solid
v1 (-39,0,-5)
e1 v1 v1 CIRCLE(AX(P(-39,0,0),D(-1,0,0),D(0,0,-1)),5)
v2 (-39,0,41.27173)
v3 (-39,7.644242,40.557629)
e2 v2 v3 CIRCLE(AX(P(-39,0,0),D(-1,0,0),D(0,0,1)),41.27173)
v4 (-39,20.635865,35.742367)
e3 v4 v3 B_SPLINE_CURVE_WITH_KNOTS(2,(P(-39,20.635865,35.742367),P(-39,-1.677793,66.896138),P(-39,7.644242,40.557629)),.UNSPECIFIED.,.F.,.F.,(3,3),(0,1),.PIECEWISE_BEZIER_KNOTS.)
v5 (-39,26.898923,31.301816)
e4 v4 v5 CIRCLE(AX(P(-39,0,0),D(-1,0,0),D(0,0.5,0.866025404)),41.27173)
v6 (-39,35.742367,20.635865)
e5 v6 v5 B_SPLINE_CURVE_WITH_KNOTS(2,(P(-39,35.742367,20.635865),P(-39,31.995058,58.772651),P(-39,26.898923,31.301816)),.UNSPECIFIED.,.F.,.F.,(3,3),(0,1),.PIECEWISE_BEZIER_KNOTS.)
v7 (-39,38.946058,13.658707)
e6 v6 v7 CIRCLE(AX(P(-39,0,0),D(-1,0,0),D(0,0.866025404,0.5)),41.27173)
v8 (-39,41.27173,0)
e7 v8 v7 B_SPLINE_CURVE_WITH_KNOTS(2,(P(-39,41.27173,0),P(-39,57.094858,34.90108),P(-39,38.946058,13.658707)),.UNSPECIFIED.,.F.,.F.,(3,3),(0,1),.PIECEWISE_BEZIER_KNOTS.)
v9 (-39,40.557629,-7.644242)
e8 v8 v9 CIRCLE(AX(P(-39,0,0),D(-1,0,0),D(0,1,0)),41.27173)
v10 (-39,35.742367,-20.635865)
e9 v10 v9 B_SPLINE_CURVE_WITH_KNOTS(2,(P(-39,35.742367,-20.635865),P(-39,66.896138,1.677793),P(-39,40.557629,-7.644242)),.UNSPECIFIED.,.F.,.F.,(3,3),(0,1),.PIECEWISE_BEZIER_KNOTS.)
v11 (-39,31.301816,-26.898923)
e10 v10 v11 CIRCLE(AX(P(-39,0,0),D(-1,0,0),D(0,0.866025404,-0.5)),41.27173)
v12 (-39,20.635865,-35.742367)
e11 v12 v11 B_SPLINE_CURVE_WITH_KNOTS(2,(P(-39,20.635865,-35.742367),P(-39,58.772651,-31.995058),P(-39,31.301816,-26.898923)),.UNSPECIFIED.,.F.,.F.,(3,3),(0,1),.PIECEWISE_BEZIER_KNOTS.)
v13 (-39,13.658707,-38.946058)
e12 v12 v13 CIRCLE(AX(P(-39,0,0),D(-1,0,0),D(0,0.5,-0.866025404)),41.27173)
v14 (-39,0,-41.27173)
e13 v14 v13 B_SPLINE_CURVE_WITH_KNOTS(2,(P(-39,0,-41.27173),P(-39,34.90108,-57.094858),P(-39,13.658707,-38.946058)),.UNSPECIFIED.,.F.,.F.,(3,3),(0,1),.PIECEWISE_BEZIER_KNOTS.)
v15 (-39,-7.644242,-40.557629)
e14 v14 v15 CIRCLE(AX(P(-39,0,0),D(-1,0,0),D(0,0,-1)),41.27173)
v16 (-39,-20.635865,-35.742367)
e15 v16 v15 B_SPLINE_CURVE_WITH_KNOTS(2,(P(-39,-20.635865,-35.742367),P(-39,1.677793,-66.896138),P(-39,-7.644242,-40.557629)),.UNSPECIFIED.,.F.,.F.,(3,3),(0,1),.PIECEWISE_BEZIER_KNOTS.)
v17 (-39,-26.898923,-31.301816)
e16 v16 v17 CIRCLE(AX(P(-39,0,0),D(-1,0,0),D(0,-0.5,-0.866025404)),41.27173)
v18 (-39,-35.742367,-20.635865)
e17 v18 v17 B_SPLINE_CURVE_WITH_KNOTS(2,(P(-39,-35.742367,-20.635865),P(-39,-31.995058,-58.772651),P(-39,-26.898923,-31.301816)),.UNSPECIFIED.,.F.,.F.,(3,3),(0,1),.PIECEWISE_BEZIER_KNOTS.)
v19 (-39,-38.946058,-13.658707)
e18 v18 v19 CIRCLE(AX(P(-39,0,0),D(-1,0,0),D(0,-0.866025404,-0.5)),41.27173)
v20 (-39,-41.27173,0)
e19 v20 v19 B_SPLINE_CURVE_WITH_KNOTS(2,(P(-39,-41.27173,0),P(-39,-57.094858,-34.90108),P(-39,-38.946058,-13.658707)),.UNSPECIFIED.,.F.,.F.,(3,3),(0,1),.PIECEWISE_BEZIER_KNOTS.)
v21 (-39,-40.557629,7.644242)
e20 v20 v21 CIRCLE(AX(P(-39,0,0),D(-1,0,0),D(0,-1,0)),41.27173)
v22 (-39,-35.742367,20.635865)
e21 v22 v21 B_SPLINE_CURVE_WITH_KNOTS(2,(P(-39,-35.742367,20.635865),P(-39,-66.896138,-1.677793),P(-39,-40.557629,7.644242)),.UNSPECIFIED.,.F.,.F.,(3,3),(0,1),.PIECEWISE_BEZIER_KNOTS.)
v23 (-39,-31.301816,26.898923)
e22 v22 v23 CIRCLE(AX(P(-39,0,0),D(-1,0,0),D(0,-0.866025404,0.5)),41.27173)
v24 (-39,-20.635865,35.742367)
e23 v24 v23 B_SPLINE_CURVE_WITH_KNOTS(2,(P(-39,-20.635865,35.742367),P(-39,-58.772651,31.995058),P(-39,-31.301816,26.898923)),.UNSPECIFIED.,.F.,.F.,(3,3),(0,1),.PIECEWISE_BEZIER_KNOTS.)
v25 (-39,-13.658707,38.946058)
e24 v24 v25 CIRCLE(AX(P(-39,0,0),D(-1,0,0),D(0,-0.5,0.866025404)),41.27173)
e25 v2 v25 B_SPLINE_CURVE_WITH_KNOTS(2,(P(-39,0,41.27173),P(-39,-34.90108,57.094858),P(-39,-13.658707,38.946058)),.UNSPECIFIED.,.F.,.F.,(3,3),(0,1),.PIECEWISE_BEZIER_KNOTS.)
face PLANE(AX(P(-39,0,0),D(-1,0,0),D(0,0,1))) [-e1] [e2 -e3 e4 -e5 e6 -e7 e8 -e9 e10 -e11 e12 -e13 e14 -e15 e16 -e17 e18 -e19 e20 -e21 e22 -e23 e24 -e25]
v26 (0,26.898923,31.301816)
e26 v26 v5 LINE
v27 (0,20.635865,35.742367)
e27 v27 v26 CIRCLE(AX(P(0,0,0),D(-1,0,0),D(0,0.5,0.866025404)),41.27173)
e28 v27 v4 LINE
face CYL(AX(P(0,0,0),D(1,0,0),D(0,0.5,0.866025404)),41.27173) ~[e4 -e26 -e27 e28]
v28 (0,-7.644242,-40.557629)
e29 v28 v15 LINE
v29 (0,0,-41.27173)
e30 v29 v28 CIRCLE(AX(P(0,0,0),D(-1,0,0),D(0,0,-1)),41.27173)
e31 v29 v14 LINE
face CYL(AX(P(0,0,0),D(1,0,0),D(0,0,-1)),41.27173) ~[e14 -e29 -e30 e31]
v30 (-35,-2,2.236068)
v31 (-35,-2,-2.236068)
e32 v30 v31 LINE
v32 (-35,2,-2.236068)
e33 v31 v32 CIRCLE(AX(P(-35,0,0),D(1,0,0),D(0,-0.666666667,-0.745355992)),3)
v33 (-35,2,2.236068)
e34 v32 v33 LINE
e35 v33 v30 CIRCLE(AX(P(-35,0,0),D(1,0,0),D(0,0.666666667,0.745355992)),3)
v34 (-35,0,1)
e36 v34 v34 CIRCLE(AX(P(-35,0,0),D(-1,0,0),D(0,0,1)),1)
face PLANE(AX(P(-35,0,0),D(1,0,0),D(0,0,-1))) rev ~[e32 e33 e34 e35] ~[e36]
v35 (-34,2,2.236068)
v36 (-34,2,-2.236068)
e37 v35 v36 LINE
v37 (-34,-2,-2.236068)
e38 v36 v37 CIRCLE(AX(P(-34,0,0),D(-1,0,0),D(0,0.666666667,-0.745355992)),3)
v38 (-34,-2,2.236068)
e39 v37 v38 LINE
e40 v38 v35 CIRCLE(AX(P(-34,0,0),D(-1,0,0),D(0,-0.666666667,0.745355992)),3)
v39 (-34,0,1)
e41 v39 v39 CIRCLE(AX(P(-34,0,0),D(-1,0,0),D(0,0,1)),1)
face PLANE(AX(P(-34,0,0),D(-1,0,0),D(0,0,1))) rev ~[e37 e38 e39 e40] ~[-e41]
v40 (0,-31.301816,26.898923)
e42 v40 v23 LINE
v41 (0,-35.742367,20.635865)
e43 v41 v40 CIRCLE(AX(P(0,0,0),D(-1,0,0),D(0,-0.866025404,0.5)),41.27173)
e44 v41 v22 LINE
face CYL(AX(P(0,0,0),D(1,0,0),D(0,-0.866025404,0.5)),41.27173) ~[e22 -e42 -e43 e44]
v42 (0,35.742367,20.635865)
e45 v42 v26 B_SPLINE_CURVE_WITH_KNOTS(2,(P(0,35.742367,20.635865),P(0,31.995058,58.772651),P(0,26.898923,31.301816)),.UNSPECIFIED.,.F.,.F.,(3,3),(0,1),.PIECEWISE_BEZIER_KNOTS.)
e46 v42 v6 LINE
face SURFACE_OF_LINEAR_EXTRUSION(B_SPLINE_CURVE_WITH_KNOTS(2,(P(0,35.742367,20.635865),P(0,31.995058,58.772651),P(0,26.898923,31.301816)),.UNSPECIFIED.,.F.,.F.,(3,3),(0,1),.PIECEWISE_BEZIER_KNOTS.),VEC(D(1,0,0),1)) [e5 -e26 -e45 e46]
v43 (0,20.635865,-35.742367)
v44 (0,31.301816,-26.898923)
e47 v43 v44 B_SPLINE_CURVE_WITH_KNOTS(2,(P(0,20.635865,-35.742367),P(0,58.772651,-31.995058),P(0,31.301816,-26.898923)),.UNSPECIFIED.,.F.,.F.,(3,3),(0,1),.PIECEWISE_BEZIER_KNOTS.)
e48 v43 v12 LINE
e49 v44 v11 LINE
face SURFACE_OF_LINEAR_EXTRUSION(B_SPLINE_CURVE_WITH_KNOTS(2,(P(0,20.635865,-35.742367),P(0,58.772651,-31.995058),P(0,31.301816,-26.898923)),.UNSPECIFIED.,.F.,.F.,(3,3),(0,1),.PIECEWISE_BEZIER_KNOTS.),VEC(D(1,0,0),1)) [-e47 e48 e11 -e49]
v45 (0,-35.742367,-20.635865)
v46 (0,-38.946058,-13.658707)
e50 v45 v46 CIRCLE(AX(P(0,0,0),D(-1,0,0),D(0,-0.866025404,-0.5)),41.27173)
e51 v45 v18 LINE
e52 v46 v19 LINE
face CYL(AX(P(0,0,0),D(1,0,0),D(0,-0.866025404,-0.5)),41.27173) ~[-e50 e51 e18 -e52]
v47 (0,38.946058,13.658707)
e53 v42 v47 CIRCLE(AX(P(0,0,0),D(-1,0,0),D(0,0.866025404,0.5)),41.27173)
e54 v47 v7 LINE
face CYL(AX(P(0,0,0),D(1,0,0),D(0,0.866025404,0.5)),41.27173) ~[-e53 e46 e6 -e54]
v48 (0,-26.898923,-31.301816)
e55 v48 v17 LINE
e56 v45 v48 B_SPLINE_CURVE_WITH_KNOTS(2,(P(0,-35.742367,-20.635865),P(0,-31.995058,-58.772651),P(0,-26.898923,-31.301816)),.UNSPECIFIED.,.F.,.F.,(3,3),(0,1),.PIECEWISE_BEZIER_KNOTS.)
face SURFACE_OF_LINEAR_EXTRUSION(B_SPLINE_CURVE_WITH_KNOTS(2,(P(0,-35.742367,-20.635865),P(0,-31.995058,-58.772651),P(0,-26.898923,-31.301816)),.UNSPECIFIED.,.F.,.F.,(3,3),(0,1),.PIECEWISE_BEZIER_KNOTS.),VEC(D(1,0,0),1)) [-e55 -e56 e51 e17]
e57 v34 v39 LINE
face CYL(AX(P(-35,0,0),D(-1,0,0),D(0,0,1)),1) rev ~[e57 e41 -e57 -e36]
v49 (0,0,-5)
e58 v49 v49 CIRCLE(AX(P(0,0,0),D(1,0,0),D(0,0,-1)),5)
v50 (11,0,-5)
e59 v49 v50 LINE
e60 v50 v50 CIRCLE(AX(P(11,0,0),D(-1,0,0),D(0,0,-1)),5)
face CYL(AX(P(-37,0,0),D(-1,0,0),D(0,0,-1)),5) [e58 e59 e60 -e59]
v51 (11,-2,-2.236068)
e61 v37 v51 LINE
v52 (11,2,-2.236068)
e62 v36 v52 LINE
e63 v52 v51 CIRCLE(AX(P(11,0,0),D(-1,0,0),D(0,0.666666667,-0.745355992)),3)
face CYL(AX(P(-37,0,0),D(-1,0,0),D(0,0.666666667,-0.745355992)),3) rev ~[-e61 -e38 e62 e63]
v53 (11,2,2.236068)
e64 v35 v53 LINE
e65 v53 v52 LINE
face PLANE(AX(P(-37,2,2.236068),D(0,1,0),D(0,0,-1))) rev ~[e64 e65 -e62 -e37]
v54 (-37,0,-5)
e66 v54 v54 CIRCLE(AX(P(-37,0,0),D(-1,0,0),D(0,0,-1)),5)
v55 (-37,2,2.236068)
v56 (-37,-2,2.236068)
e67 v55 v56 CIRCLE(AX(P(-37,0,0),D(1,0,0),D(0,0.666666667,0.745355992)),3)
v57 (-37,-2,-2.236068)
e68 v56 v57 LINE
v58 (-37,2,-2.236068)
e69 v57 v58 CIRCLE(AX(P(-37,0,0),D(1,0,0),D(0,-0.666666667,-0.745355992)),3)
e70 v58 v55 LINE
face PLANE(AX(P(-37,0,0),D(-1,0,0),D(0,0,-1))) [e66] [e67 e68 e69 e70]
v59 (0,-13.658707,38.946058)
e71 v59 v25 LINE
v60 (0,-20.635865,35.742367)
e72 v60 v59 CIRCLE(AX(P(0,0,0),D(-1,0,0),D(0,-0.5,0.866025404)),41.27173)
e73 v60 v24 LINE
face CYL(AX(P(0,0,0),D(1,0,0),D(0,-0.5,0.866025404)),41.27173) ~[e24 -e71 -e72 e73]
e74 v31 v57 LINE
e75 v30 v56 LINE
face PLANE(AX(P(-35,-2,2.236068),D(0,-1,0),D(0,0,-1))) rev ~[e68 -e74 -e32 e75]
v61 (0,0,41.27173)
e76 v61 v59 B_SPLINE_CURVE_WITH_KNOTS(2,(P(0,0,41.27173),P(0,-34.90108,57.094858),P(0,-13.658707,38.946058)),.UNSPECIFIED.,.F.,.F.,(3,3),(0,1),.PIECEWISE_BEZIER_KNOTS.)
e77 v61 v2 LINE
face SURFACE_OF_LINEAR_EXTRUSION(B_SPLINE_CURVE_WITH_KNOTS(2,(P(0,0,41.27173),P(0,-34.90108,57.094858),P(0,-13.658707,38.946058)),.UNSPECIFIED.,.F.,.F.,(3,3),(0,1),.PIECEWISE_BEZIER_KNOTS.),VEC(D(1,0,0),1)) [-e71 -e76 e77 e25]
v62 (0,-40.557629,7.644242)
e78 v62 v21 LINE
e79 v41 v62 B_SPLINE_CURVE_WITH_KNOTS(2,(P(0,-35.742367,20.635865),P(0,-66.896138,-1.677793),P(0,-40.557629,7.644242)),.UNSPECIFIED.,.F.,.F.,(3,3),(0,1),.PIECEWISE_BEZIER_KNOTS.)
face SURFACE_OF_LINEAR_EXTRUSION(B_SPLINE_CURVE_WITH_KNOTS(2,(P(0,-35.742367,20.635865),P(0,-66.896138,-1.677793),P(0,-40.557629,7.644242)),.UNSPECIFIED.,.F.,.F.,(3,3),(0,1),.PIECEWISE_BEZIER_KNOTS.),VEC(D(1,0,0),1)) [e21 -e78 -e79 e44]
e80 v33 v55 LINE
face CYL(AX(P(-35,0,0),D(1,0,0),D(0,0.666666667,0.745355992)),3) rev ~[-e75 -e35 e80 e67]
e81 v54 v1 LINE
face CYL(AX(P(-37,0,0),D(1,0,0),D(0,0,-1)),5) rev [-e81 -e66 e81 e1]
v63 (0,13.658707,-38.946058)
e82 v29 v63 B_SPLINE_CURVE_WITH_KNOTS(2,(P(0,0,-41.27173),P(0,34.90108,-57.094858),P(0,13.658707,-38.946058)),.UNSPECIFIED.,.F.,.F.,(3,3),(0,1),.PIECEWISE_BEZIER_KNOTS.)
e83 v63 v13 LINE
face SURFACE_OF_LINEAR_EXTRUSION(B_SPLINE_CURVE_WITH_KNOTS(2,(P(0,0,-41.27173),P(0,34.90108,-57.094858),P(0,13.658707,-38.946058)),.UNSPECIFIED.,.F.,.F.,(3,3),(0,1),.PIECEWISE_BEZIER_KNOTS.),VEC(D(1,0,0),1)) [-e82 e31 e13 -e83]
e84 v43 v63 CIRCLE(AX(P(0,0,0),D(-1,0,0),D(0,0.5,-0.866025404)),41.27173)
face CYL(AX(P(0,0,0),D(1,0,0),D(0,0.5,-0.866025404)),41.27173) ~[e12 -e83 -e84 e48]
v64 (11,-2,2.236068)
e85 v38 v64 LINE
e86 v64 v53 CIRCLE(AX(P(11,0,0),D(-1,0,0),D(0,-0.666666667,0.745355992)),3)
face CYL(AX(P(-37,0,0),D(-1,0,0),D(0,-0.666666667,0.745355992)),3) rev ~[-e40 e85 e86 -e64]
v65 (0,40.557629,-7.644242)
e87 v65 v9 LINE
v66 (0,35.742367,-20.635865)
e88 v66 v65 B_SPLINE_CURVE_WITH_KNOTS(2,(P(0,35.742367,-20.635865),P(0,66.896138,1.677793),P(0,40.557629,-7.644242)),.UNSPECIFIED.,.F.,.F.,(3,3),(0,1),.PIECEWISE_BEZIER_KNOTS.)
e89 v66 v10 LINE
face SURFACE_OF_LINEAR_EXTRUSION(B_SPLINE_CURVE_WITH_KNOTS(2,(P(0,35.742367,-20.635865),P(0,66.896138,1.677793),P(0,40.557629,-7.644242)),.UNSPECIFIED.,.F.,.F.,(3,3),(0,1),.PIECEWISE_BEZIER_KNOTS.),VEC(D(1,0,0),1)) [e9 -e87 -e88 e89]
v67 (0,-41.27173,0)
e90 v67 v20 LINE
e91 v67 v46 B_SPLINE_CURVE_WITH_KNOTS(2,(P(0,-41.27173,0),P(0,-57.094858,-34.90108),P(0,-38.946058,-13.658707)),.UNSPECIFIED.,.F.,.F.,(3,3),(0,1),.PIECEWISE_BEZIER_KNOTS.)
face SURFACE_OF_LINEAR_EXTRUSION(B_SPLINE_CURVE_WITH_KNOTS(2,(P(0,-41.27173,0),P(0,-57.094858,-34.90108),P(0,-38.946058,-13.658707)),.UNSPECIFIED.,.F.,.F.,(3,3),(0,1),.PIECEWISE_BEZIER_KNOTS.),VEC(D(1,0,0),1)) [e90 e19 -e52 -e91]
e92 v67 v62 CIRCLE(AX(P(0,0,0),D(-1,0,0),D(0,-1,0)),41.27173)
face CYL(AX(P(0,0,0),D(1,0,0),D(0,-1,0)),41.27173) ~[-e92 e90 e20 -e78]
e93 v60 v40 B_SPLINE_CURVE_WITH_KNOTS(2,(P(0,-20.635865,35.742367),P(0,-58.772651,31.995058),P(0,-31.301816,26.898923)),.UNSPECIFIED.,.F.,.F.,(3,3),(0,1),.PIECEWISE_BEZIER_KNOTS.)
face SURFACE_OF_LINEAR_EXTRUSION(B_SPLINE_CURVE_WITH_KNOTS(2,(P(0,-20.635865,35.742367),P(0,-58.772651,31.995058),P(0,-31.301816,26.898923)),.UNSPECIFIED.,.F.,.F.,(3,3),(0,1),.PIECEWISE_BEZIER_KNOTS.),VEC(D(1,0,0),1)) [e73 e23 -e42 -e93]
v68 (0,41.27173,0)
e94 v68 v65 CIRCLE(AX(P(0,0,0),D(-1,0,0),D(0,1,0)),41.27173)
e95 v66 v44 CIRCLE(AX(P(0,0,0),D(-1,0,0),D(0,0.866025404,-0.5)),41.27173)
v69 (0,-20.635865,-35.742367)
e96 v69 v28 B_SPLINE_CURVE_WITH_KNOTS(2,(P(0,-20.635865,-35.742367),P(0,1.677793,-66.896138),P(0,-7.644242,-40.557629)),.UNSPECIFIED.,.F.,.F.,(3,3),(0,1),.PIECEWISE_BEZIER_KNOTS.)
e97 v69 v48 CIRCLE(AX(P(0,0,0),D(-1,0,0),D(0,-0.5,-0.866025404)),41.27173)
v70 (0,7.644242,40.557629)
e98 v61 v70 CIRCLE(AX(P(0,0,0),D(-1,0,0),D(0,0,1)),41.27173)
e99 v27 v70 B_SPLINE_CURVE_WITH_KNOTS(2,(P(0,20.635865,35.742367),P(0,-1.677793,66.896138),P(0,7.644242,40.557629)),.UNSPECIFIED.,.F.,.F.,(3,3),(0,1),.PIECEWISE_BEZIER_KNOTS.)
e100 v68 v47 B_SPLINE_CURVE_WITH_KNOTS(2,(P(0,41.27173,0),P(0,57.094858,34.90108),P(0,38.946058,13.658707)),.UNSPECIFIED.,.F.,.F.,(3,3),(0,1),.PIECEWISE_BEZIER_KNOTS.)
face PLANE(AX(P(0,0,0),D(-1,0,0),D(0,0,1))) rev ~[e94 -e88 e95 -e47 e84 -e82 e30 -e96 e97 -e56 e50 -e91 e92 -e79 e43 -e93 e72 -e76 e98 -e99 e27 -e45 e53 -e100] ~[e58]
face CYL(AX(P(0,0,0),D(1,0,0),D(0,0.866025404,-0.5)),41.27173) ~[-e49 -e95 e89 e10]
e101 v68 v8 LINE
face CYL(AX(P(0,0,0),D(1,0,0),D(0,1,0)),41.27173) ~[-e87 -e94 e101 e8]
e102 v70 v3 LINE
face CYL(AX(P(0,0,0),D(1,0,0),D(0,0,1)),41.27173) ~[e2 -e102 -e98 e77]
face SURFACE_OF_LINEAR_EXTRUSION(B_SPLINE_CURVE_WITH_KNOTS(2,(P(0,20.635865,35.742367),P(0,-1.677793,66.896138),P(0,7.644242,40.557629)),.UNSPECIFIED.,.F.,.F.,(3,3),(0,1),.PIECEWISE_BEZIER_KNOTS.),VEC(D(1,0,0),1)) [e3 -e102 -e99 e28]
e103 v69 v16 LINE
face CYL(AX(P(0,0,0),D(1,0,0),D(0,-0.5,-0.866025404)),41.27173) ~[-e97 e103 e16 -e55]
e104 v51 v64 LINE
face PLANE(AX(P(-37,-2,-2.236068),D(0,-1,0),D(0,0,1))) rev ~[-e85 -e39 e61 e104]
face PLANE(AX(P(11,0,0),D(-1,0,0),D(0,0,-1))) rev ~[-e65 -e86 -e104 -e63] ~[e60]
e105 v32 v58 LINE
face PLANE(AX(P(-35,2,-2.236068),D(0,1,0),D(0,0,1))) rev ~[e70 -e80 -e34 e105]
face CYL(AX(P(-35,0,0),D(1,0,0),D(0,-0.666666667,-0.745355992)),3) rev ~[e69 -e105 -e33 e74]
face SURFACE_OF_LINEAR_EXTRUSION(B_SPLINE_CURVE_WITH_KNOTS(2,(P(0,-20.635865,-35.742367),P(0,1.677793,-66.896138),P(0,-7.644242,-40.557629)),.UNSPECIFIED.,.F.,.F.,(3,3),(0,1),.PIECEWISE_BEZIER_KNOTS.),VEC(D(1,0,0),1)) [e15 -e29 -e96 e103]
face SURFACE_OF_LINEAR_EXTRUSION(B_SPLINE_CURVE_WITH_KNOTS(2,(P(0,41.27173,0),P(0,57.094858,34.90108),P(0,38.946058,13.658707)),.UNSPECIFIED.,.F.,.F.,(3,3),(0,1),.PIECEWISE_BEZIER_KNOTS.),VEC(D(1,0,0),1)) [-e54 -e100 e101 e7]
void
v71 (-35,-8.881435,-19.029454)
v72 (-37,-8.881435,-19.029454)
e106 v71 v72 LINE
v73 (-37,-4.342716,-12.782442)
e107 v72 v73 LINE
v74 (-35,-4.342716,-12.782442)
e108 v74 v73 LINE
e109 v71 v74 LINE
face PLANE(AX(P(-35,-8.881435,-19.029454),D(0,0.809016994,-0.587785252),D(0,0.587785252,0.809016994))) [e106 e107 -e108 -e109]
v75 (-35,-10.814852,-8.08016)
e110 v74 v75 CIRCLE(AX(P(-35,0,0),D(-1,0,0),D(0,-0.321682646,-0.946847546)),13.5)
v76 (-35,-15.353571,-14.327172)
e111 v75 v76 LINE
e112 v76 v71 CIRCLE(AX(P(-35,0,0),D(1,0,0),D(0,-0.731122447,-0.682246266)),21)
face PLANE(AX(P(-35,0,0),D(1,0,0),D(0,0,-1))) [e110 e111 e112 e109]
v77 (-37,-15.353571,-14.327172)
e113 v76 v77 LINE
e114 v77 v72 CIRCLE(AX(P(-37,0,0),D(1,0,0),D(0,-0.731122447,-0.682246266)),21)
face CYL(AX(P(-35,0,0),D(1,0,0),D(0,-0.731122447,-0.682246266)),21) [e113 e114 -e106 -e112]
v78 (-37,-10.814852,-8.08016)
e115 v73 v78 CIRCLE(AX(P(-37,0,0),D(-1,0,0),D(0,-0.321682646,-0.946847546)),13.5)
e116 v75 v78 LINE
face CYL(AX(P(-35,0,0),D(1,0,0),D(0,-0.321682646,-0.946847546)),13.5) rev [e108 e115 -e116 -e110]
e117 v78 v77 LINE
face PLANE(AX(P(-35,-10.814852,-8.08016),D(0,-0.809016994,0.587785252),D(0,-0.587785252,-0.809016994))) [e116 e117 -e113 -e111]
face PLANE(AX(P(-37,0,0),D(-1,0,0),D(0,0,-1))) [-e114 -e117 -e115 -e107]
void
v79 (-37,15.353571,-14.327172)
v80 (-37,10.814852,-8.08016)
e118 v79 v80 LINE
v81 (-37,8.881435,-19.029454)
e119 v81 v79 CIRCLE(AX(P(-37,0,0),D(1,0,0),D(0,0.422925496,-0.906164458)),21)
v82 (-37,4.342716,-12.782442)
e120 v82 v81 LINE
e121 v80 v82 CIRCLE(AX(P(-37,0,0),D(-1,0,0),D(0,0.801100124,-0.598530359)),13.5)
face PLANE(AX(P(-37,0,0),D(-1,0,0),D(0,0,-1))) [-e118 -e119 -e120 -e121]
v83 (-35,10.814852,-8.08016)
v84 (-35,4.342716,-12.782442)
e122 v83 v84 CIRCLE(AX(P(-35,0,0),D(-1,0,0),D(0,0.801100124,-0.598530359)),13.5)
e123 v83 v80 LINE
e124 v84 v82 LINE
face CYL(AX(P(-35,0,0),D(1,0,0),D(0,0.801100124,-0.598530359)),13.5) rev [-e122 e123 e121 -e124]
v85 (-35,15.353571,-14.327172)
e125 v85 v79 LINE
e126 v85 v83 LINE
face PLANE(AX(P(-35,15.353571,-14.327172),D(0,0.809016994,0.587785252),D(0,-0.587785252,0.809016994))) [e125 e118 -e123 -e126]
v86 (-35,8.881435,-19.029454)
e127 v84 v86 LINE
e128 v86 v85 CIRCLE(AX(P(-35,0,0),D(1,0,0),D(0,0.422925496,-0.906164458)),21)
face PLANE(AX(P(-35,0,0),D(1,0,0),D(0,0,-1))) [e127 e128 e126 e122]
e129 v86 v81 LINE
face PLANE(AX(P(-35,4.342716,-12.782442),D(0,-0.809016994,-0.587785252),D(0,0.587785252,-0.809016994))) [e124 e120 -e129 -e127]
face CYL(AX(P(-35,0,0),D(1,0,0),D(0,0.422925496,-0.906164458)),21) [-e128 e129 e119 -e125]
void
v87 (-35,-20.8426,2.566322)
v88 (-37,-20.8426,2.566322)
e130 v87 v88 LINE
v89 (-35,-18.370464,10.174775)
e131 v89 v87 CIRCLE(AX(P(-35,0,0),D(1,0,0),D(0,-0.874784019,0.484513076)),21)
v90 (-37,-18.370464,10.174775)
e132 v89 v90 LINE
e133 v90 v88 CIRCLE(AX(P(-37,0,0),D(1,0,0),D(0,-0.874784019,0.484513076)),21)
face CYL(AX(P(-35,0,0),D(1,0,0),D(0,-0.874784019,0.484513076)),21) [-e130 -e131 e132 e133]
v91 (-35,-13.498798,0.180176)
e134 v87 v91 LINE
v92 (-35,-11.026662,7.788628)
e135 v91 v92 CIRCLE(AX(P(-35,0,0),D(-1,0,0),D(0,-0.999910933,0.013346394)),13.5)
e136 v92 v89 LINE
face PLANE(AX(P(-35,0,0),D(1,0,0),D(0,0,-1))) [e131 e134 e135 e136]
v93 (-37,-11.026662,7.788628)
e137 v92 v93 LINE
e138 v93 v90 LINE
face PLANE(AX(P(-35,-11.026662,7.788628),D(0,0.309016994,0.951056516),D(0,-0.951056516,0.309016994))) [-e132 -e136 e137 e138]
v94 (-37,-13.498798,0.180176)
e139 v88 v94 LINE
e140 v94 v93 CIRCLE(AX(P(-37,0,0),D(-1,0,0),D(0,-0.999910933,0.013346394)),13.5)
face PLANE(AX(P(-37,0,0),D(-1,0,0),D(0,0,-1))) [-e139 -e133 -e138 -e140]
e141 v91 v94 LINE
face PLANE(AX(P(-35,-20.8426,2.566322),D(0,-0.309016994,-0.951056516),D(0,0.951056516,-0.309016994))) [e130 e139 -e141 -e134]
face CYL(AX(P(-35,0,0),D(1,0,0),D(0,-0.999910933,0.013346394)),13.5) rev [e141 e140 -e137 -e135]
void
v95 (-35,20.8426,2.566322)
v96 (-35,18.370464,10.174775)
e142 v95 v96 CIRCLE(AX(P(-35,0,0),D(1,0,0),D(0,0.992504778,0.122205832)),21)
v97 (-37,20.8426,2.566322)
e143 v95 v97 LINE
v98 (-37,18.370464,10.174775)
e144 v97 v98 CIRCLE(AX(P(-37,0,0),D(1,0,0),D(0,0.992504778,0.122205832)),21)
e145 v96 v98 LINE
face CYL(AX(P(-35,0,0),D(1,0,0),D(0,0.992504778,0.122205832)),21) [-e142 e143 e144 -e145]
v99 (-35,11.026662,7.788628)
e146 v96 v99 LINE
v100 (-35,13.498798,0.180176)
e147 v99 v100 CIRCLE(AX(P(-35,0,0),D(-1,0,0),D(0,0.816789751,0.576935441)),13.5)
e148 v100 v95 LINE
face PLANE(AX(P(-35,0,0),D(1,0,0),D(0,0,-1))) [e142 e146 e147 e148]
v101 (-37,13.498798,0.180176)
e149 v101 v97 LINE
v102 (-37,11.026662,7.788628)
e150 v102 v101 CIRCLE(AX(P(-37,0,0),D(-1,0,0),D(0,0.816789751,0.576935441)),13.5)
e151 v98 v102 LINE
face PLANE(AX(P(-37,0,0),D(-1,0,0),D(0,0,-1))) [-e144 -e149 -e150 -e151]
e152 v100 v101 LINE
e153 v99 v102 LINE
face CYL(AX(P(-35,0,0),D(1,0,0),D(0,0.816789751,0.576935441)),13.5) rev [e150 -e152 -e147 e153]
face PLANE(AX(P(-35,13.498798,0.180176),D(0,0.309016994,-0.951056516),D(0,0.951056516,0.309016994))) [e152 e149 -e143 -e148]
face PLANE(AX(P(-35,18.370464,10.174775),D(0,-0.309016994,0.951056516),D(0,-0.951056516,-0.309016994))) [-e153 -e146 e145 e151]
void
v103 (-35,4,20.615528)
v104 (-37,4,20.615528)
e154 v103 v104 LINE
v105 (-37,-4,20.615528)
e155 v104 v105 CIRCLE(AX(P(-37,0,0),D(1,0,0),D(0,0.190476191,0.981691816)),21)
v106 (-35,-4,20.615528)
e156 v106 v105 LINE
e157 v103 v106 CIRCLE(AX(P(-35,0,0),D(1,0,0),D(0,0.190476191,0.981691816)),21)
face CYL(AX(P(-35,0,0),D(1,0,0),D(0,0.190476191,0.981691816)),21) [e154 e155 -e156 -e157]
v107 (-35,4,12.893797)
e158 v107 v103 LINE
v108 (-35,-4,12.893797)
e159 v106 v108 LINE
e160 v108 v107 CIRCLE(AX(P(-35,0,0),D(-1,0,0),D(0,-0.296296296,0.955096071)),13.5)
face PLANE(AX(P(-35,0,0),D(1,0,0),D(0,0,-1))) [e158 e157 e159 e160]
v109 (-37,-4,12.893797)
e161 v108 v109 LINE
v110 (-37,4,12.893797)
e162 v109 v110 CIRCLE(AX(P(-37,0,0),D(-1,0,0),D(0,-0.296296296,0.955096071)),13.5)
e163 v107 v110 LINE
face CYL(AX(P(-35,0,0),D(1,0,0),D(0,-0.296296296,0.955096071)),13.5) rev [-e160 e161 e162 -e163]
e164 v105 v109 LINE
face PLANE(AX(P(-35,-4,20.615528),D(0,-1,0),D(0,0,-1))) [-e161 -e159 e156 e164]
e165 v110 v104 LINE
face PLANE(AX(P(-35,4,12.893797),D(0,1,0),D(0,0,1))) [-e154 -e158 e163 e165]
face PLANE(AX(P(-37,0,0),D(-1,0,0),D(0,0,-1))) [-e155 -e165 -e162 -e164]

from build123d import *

# Parameters (mm, degrees)
SKETCH1_R           = 32.5
SKETCH1_R_2         = 5
BOSS_EXTRUDE1_DEPTH = 35
SKETCH2_R           = 8.5
SKETCH2_R_2         = 1
BOSS_EXTRUDE2_DEPTH = 1
SKETCH3_R           = 32.5
BOSS_EXTRUDE4_DEPTH = 2
SKETCH4_R           = 32.5
SKETCH4_R_2         = 5
BOSS_EXTRUDE5_DEPTH = 2
SKETCH5_R           = 5
BOSS_EXTRUDE6_DEPTH = 48
BOSS_EXTRUDE7_START = -39
SKETCH6_R           = 32.5
BOSS_EXTRUDE7_DEPTH = 39


with BuildPart() as part:
    # Sketch1 → Boss-Extrude1 (new body)
    with BuildSketch(Plane(origin=(0, 0, 0), x_dir=(0, 0, -1), z_dir=(1, 0, 0))):
        Circle(SKETCH1_R)
        Circle(SKETCH1_R_2, mode=Mode.SUBTRACT)
    extrude(amount=-BOSS_EXTRUDE1_DEPTH)



with BuildPart() as body_2:
    # Sketch2 → Boss-Extrude2 (new body)
    with BuildSketch(Plane.ZY.offset(35)):
        Circle(SKETCH2_R)
        Circle(SKETCH2_R_2, mode=Mode.SUBTRACT)
    extrude(amount=-BOSS_EXTRUDE2_DEPTH)


with BuildPart() as part_1:
    add(part.part)

    add(body_2.part)  # Boss-Extrude4 merges body 2
    # Sketch3 → Boss-Extrude4 (add)
    with BuildSketch(Plane.ZY.offset(35)):
        with Locations(Location((0, 0, 0), (0, 0, 180))):
            Circle(SKETCH3_R)
        with BuildLine():
            Line((12.893796958, 4), (20.615528128, 4))
            ThreePointArc((20.615528128, 4), (21, 0), (20.615528128, -4))
            Line((20.615528128, -4), (12.893796958, -4))
            ThreePointArc((12.893796958, -4), (13.5, 0), (12.893796958, 4))
        make_face(mode=Mode.SUBTRACT)
        with BuildLine():
            Line((7.788628447, -11.026661639), (10.174774605, -18.370464386))
            ThreePointArc((10.174774605, -18.370464386), (6.489356882, -19.972186842), (2.566322474, -20.842600341))
            Line((2.566322474, -20.842600341), (0.180176317, -13.498797594))
            ThreePointArc((0.180176317, -13.498797594), (4.171729424, -12.83926297), (7.788628447, -11.026661639))
        make_face(mode=Mode.SUBTRACT)
        with BuildLine():
            Line((-8.080159852, -10.814851676), (-14.327171594, -15.353571379))
            ThreePointArc((-14.327171594, -15.353571379), (-16.989356882, -12.343490298), (-19.029453613, -8.881435424))
            Line((-19.029453613, -8.881435424), (-12.78244187, -4.342715721))
            ThreePointArc((-12.78244187, -4.342715721), (-10.921729424, -7.935100906), (-8.080159852, -10.814851676))
        make_face(mode=Mode.SUBTRACT)
        with BuildLine():
            Line((-12.78244187, 4.342715721), (-19.029453613, 8.881435424))
            ThreePointArc((-19.029453613, 8.881435424), (-16.989356882, 12.343490298), (-14.327171594, 15.353571379))
            Line((-14.327171594, 15.353571379), (-8.080159852, 10.814851676))
            ThreePointArc((-8.080159852, 10.814851676), (-10.921729424, 7.935100906), (-12.78244187, 4.342715721))
        make_face(mode=Mode.SUBTRACT)
        with BuildLine():
            Line((0.180176317, 13.498797594), (2.566322474, 20.842600341))
            ThreePointArc((2.566322474, 20.842600341), (6.489356882, 19.972186842), (10.174774605, 18.370464386))
            Line((10.174774605, 18.370464386), (7.788628447, 11.026661639))
            ThreePointArc((7.788628447, 11.026661639), (4.171729424, 12.83926297), (0.180176317, 13.498797594))
        make_face(mode=Mode.SUBTRACT)
        with BuildLine():
            Line((-2.236067977, 2), (2.236067977, 2))
            ThreePointArc((2.236067977, 2), (3, 0), (2.236067977, -2))
            Line((2.236067977, -2), (-2.236067977, -2))
            ThreePointArc((-2.236067977, -2), (-3, 0), (-2.236067977, 2))
        make_face(mode=Mode.SUBTRACT)
    extrude(amount=BOSS_EXTRUDE4_DEPTH)

    # Sketch4 → Boss-Extrude5 (add)
    with BuildSketch(Plane.ZY.offset(37)):
        with Locations(Location((0, 0, 0), (0, 0, 180))):
            Circle(SKETCH4_R)
        with Locations(Location((0, 0, 0), (0, 0, 180))):
            Circle(SKETCH4_R_2, mode=Mode.SUBTRACT)
    extrude(amount=BOSS_EXTRUDE5_DEPTH)



with BuildPart() as body_2_2:
    # Sketch5 → Boss-Extrude6 (new body)
    with BuildSketch(Plane.ZY.offset(37)):
        with Locations(Location((0, 0, 0), (0, 0, 180))):
            Circle(SKETCH5_R)
        with BuildLine():
            Line((2.236067977, 2), (-2.236067977, 2))
            ThreePointArc((-2.236067977, 2), (-3, 0), (-2.236067977, -2))
            Line((-2.236067977, -2), (2.236067977, -2))
            ThreePointArc((2.236067977, -2), (3, 0), (2.236067977, 2))
        make_face(mode=Mode.SUBTRACT)
    extrude(amount=-BOSS_EXTRUDE6_DEPTH)


with BuildPart() as part_2:
    add(part_1.part)

    add(body_2_2.part)  # Boss-Extrude7 merges body 2 2
    # Sketch6 → Boss-Extrude7 (add)
    with BuildSketch(Plane.ZY.offset(39).offset(BOSS_EXTRUDE7_START)):
        with BuildLine():
            ThreePointArc((-20.63586518, 35.74236695), (-23.870874178, 33.668042606), (-26.898922548, 31.301816125))
            add(Edge.make_bspline(
                [(-35.74236695, 20.63586518), (-31.995057853, 58.772650811), (-26.898922548, 31.301816125)],
                knots=[0, 0, 0, 1, 1, 1], degree=2))
            ThreePointArc((-35.74236695, 20.63586518), (-37.506804752, 17.221943104), (-38.946058323, 13.658706674))
            add(Edge.make_bspline(
                [(-41.27173036, 0), (-57.094858301, 34.901079724), (-38.946058323, 13.658706674)],
                knots=[0, 0, 0, 1, 1, 1], degree=2))
            ThreePointArc((-41.27173036, 0), (-41.092817282, -3.838762145), (-40.557629223, -7.644242199))
            add(Edge.make_bspline(
                [(-35.74236695, -20.63586518), (-66.896137576, 1.67779251), (-40.557629223, -7.644242199)],
                knots=[0, 0, 0, 1, 1, 1], degree=2))
            ThreePointArc((-35.74236695, -20.63586518), (-33.668042606, -23.870874178), (-31.301816125, -26.898922548))
            add(Edge.make_bspline(
                [(-20.63586518, -35.74236695), (-58.772650811, -31.995057853), (-31.301816125, -26.898922548)],
                knots=[0, 0, 0, 1, 1, 1], degree=2))
            ThreePointArc((-20.63586518, -35.74236695), (-17.221943104, -37.506804752), (-13.658706674, -38.946058323))
            add(Edge.make_bspline(
                [(0, -41.27173036), (-34.901079724, -57.094858301), (-13.658706674, -38.946058323)],
                knots=[0, 0, 0, 1, 1, 1], degree=2))
            ThreePointArc((0, -41.27173036), (3.838762145, -41.092817282), (7.644242199, -40.557629223))
            add(Edge.make_bspline(
                [(20.63586518, -35.74236695), (-1.67779251, -66.896137576), (7.644242199, -40.557629223)],
                knots=[0, 0, 0, 1, 1, 1], degree=2))
            ThreePointArc((20.63586518, -35.74236695), (23.870874178, -33.668042606), (26.898922548, -31.301816125))
            add(Edge.make_bspline(
                [(35.74236695, -20.63586518), (31.995057853, -58.772650811), (26.898922548, -31.301816125)],
                knots=[0, 0, 0, 1, 1, 1], degree=2))
            ThreePointArc((35.74236695, -20.63586518), (37.506804752, -17.221943104), (38.946058323, -13.658706674))
            add(Edge.make_bspline(
                [(41.27173036, 0), (57.094858301, -34.901079724), (38.946058323, -13.658706674)],
                knots=[0, 0, 0, 1, 1, 1], degree=2))
            ThreePointArc((41.27173036, 0), (41.092817282, 3.838762145), (40.557629223, 7.644242199))
            add(Edge.make_bspline(
                [(35.74236695, 20.63586518), (66.896137576, -1.67779251), (40.557629223, 7.644242199)],
                knots=[0, 0, 0, 1, 1, 1], degree=2))
            ThreePointArc((35.74236695, 20.63586518), (33.668042606, 23.870874178), (31.301816125, 26.898922548))
            add(Edge.make_bspline(
                [(20.63586518, 35.74236695), (58.772650811, 31.995057853), (31.301816125, 26.898922548)],
                knots=[0, 0, 0, 1, 1, 1], degree=2))
            ThreePointArc((20.63586518, 35.74236695), (17.221943104, 37.506804752), (13.658706674, 38.946058323))
            add(Edge.make_bspline(
                [(0, 41.27173036), (34.901079724, 57.094858301), (13.658706674, 38.946058323)],
                knots=[0, 0, 0, 1, 1, 1], degree=2))
            ThreePointArc((0, 41.27173036), (-3.838762145, 41.092817282), (-7.644242199, 40.557629223))
            add(Edge.make_bspline(
                [(-20.63586518, 35.74236695), (1.67779251, 66.896137576), (-7.644242199, 40.557629223)],
                knots=[0, 0, 0, 1, 1, 1], degree=2))
        make_face()
        Circle(SKETCH6_R, mode=Mode.SUBTRACT)
    extrude(amount=BOSS_EXTRUDE7_DEPTH)


solid = part_2.part
